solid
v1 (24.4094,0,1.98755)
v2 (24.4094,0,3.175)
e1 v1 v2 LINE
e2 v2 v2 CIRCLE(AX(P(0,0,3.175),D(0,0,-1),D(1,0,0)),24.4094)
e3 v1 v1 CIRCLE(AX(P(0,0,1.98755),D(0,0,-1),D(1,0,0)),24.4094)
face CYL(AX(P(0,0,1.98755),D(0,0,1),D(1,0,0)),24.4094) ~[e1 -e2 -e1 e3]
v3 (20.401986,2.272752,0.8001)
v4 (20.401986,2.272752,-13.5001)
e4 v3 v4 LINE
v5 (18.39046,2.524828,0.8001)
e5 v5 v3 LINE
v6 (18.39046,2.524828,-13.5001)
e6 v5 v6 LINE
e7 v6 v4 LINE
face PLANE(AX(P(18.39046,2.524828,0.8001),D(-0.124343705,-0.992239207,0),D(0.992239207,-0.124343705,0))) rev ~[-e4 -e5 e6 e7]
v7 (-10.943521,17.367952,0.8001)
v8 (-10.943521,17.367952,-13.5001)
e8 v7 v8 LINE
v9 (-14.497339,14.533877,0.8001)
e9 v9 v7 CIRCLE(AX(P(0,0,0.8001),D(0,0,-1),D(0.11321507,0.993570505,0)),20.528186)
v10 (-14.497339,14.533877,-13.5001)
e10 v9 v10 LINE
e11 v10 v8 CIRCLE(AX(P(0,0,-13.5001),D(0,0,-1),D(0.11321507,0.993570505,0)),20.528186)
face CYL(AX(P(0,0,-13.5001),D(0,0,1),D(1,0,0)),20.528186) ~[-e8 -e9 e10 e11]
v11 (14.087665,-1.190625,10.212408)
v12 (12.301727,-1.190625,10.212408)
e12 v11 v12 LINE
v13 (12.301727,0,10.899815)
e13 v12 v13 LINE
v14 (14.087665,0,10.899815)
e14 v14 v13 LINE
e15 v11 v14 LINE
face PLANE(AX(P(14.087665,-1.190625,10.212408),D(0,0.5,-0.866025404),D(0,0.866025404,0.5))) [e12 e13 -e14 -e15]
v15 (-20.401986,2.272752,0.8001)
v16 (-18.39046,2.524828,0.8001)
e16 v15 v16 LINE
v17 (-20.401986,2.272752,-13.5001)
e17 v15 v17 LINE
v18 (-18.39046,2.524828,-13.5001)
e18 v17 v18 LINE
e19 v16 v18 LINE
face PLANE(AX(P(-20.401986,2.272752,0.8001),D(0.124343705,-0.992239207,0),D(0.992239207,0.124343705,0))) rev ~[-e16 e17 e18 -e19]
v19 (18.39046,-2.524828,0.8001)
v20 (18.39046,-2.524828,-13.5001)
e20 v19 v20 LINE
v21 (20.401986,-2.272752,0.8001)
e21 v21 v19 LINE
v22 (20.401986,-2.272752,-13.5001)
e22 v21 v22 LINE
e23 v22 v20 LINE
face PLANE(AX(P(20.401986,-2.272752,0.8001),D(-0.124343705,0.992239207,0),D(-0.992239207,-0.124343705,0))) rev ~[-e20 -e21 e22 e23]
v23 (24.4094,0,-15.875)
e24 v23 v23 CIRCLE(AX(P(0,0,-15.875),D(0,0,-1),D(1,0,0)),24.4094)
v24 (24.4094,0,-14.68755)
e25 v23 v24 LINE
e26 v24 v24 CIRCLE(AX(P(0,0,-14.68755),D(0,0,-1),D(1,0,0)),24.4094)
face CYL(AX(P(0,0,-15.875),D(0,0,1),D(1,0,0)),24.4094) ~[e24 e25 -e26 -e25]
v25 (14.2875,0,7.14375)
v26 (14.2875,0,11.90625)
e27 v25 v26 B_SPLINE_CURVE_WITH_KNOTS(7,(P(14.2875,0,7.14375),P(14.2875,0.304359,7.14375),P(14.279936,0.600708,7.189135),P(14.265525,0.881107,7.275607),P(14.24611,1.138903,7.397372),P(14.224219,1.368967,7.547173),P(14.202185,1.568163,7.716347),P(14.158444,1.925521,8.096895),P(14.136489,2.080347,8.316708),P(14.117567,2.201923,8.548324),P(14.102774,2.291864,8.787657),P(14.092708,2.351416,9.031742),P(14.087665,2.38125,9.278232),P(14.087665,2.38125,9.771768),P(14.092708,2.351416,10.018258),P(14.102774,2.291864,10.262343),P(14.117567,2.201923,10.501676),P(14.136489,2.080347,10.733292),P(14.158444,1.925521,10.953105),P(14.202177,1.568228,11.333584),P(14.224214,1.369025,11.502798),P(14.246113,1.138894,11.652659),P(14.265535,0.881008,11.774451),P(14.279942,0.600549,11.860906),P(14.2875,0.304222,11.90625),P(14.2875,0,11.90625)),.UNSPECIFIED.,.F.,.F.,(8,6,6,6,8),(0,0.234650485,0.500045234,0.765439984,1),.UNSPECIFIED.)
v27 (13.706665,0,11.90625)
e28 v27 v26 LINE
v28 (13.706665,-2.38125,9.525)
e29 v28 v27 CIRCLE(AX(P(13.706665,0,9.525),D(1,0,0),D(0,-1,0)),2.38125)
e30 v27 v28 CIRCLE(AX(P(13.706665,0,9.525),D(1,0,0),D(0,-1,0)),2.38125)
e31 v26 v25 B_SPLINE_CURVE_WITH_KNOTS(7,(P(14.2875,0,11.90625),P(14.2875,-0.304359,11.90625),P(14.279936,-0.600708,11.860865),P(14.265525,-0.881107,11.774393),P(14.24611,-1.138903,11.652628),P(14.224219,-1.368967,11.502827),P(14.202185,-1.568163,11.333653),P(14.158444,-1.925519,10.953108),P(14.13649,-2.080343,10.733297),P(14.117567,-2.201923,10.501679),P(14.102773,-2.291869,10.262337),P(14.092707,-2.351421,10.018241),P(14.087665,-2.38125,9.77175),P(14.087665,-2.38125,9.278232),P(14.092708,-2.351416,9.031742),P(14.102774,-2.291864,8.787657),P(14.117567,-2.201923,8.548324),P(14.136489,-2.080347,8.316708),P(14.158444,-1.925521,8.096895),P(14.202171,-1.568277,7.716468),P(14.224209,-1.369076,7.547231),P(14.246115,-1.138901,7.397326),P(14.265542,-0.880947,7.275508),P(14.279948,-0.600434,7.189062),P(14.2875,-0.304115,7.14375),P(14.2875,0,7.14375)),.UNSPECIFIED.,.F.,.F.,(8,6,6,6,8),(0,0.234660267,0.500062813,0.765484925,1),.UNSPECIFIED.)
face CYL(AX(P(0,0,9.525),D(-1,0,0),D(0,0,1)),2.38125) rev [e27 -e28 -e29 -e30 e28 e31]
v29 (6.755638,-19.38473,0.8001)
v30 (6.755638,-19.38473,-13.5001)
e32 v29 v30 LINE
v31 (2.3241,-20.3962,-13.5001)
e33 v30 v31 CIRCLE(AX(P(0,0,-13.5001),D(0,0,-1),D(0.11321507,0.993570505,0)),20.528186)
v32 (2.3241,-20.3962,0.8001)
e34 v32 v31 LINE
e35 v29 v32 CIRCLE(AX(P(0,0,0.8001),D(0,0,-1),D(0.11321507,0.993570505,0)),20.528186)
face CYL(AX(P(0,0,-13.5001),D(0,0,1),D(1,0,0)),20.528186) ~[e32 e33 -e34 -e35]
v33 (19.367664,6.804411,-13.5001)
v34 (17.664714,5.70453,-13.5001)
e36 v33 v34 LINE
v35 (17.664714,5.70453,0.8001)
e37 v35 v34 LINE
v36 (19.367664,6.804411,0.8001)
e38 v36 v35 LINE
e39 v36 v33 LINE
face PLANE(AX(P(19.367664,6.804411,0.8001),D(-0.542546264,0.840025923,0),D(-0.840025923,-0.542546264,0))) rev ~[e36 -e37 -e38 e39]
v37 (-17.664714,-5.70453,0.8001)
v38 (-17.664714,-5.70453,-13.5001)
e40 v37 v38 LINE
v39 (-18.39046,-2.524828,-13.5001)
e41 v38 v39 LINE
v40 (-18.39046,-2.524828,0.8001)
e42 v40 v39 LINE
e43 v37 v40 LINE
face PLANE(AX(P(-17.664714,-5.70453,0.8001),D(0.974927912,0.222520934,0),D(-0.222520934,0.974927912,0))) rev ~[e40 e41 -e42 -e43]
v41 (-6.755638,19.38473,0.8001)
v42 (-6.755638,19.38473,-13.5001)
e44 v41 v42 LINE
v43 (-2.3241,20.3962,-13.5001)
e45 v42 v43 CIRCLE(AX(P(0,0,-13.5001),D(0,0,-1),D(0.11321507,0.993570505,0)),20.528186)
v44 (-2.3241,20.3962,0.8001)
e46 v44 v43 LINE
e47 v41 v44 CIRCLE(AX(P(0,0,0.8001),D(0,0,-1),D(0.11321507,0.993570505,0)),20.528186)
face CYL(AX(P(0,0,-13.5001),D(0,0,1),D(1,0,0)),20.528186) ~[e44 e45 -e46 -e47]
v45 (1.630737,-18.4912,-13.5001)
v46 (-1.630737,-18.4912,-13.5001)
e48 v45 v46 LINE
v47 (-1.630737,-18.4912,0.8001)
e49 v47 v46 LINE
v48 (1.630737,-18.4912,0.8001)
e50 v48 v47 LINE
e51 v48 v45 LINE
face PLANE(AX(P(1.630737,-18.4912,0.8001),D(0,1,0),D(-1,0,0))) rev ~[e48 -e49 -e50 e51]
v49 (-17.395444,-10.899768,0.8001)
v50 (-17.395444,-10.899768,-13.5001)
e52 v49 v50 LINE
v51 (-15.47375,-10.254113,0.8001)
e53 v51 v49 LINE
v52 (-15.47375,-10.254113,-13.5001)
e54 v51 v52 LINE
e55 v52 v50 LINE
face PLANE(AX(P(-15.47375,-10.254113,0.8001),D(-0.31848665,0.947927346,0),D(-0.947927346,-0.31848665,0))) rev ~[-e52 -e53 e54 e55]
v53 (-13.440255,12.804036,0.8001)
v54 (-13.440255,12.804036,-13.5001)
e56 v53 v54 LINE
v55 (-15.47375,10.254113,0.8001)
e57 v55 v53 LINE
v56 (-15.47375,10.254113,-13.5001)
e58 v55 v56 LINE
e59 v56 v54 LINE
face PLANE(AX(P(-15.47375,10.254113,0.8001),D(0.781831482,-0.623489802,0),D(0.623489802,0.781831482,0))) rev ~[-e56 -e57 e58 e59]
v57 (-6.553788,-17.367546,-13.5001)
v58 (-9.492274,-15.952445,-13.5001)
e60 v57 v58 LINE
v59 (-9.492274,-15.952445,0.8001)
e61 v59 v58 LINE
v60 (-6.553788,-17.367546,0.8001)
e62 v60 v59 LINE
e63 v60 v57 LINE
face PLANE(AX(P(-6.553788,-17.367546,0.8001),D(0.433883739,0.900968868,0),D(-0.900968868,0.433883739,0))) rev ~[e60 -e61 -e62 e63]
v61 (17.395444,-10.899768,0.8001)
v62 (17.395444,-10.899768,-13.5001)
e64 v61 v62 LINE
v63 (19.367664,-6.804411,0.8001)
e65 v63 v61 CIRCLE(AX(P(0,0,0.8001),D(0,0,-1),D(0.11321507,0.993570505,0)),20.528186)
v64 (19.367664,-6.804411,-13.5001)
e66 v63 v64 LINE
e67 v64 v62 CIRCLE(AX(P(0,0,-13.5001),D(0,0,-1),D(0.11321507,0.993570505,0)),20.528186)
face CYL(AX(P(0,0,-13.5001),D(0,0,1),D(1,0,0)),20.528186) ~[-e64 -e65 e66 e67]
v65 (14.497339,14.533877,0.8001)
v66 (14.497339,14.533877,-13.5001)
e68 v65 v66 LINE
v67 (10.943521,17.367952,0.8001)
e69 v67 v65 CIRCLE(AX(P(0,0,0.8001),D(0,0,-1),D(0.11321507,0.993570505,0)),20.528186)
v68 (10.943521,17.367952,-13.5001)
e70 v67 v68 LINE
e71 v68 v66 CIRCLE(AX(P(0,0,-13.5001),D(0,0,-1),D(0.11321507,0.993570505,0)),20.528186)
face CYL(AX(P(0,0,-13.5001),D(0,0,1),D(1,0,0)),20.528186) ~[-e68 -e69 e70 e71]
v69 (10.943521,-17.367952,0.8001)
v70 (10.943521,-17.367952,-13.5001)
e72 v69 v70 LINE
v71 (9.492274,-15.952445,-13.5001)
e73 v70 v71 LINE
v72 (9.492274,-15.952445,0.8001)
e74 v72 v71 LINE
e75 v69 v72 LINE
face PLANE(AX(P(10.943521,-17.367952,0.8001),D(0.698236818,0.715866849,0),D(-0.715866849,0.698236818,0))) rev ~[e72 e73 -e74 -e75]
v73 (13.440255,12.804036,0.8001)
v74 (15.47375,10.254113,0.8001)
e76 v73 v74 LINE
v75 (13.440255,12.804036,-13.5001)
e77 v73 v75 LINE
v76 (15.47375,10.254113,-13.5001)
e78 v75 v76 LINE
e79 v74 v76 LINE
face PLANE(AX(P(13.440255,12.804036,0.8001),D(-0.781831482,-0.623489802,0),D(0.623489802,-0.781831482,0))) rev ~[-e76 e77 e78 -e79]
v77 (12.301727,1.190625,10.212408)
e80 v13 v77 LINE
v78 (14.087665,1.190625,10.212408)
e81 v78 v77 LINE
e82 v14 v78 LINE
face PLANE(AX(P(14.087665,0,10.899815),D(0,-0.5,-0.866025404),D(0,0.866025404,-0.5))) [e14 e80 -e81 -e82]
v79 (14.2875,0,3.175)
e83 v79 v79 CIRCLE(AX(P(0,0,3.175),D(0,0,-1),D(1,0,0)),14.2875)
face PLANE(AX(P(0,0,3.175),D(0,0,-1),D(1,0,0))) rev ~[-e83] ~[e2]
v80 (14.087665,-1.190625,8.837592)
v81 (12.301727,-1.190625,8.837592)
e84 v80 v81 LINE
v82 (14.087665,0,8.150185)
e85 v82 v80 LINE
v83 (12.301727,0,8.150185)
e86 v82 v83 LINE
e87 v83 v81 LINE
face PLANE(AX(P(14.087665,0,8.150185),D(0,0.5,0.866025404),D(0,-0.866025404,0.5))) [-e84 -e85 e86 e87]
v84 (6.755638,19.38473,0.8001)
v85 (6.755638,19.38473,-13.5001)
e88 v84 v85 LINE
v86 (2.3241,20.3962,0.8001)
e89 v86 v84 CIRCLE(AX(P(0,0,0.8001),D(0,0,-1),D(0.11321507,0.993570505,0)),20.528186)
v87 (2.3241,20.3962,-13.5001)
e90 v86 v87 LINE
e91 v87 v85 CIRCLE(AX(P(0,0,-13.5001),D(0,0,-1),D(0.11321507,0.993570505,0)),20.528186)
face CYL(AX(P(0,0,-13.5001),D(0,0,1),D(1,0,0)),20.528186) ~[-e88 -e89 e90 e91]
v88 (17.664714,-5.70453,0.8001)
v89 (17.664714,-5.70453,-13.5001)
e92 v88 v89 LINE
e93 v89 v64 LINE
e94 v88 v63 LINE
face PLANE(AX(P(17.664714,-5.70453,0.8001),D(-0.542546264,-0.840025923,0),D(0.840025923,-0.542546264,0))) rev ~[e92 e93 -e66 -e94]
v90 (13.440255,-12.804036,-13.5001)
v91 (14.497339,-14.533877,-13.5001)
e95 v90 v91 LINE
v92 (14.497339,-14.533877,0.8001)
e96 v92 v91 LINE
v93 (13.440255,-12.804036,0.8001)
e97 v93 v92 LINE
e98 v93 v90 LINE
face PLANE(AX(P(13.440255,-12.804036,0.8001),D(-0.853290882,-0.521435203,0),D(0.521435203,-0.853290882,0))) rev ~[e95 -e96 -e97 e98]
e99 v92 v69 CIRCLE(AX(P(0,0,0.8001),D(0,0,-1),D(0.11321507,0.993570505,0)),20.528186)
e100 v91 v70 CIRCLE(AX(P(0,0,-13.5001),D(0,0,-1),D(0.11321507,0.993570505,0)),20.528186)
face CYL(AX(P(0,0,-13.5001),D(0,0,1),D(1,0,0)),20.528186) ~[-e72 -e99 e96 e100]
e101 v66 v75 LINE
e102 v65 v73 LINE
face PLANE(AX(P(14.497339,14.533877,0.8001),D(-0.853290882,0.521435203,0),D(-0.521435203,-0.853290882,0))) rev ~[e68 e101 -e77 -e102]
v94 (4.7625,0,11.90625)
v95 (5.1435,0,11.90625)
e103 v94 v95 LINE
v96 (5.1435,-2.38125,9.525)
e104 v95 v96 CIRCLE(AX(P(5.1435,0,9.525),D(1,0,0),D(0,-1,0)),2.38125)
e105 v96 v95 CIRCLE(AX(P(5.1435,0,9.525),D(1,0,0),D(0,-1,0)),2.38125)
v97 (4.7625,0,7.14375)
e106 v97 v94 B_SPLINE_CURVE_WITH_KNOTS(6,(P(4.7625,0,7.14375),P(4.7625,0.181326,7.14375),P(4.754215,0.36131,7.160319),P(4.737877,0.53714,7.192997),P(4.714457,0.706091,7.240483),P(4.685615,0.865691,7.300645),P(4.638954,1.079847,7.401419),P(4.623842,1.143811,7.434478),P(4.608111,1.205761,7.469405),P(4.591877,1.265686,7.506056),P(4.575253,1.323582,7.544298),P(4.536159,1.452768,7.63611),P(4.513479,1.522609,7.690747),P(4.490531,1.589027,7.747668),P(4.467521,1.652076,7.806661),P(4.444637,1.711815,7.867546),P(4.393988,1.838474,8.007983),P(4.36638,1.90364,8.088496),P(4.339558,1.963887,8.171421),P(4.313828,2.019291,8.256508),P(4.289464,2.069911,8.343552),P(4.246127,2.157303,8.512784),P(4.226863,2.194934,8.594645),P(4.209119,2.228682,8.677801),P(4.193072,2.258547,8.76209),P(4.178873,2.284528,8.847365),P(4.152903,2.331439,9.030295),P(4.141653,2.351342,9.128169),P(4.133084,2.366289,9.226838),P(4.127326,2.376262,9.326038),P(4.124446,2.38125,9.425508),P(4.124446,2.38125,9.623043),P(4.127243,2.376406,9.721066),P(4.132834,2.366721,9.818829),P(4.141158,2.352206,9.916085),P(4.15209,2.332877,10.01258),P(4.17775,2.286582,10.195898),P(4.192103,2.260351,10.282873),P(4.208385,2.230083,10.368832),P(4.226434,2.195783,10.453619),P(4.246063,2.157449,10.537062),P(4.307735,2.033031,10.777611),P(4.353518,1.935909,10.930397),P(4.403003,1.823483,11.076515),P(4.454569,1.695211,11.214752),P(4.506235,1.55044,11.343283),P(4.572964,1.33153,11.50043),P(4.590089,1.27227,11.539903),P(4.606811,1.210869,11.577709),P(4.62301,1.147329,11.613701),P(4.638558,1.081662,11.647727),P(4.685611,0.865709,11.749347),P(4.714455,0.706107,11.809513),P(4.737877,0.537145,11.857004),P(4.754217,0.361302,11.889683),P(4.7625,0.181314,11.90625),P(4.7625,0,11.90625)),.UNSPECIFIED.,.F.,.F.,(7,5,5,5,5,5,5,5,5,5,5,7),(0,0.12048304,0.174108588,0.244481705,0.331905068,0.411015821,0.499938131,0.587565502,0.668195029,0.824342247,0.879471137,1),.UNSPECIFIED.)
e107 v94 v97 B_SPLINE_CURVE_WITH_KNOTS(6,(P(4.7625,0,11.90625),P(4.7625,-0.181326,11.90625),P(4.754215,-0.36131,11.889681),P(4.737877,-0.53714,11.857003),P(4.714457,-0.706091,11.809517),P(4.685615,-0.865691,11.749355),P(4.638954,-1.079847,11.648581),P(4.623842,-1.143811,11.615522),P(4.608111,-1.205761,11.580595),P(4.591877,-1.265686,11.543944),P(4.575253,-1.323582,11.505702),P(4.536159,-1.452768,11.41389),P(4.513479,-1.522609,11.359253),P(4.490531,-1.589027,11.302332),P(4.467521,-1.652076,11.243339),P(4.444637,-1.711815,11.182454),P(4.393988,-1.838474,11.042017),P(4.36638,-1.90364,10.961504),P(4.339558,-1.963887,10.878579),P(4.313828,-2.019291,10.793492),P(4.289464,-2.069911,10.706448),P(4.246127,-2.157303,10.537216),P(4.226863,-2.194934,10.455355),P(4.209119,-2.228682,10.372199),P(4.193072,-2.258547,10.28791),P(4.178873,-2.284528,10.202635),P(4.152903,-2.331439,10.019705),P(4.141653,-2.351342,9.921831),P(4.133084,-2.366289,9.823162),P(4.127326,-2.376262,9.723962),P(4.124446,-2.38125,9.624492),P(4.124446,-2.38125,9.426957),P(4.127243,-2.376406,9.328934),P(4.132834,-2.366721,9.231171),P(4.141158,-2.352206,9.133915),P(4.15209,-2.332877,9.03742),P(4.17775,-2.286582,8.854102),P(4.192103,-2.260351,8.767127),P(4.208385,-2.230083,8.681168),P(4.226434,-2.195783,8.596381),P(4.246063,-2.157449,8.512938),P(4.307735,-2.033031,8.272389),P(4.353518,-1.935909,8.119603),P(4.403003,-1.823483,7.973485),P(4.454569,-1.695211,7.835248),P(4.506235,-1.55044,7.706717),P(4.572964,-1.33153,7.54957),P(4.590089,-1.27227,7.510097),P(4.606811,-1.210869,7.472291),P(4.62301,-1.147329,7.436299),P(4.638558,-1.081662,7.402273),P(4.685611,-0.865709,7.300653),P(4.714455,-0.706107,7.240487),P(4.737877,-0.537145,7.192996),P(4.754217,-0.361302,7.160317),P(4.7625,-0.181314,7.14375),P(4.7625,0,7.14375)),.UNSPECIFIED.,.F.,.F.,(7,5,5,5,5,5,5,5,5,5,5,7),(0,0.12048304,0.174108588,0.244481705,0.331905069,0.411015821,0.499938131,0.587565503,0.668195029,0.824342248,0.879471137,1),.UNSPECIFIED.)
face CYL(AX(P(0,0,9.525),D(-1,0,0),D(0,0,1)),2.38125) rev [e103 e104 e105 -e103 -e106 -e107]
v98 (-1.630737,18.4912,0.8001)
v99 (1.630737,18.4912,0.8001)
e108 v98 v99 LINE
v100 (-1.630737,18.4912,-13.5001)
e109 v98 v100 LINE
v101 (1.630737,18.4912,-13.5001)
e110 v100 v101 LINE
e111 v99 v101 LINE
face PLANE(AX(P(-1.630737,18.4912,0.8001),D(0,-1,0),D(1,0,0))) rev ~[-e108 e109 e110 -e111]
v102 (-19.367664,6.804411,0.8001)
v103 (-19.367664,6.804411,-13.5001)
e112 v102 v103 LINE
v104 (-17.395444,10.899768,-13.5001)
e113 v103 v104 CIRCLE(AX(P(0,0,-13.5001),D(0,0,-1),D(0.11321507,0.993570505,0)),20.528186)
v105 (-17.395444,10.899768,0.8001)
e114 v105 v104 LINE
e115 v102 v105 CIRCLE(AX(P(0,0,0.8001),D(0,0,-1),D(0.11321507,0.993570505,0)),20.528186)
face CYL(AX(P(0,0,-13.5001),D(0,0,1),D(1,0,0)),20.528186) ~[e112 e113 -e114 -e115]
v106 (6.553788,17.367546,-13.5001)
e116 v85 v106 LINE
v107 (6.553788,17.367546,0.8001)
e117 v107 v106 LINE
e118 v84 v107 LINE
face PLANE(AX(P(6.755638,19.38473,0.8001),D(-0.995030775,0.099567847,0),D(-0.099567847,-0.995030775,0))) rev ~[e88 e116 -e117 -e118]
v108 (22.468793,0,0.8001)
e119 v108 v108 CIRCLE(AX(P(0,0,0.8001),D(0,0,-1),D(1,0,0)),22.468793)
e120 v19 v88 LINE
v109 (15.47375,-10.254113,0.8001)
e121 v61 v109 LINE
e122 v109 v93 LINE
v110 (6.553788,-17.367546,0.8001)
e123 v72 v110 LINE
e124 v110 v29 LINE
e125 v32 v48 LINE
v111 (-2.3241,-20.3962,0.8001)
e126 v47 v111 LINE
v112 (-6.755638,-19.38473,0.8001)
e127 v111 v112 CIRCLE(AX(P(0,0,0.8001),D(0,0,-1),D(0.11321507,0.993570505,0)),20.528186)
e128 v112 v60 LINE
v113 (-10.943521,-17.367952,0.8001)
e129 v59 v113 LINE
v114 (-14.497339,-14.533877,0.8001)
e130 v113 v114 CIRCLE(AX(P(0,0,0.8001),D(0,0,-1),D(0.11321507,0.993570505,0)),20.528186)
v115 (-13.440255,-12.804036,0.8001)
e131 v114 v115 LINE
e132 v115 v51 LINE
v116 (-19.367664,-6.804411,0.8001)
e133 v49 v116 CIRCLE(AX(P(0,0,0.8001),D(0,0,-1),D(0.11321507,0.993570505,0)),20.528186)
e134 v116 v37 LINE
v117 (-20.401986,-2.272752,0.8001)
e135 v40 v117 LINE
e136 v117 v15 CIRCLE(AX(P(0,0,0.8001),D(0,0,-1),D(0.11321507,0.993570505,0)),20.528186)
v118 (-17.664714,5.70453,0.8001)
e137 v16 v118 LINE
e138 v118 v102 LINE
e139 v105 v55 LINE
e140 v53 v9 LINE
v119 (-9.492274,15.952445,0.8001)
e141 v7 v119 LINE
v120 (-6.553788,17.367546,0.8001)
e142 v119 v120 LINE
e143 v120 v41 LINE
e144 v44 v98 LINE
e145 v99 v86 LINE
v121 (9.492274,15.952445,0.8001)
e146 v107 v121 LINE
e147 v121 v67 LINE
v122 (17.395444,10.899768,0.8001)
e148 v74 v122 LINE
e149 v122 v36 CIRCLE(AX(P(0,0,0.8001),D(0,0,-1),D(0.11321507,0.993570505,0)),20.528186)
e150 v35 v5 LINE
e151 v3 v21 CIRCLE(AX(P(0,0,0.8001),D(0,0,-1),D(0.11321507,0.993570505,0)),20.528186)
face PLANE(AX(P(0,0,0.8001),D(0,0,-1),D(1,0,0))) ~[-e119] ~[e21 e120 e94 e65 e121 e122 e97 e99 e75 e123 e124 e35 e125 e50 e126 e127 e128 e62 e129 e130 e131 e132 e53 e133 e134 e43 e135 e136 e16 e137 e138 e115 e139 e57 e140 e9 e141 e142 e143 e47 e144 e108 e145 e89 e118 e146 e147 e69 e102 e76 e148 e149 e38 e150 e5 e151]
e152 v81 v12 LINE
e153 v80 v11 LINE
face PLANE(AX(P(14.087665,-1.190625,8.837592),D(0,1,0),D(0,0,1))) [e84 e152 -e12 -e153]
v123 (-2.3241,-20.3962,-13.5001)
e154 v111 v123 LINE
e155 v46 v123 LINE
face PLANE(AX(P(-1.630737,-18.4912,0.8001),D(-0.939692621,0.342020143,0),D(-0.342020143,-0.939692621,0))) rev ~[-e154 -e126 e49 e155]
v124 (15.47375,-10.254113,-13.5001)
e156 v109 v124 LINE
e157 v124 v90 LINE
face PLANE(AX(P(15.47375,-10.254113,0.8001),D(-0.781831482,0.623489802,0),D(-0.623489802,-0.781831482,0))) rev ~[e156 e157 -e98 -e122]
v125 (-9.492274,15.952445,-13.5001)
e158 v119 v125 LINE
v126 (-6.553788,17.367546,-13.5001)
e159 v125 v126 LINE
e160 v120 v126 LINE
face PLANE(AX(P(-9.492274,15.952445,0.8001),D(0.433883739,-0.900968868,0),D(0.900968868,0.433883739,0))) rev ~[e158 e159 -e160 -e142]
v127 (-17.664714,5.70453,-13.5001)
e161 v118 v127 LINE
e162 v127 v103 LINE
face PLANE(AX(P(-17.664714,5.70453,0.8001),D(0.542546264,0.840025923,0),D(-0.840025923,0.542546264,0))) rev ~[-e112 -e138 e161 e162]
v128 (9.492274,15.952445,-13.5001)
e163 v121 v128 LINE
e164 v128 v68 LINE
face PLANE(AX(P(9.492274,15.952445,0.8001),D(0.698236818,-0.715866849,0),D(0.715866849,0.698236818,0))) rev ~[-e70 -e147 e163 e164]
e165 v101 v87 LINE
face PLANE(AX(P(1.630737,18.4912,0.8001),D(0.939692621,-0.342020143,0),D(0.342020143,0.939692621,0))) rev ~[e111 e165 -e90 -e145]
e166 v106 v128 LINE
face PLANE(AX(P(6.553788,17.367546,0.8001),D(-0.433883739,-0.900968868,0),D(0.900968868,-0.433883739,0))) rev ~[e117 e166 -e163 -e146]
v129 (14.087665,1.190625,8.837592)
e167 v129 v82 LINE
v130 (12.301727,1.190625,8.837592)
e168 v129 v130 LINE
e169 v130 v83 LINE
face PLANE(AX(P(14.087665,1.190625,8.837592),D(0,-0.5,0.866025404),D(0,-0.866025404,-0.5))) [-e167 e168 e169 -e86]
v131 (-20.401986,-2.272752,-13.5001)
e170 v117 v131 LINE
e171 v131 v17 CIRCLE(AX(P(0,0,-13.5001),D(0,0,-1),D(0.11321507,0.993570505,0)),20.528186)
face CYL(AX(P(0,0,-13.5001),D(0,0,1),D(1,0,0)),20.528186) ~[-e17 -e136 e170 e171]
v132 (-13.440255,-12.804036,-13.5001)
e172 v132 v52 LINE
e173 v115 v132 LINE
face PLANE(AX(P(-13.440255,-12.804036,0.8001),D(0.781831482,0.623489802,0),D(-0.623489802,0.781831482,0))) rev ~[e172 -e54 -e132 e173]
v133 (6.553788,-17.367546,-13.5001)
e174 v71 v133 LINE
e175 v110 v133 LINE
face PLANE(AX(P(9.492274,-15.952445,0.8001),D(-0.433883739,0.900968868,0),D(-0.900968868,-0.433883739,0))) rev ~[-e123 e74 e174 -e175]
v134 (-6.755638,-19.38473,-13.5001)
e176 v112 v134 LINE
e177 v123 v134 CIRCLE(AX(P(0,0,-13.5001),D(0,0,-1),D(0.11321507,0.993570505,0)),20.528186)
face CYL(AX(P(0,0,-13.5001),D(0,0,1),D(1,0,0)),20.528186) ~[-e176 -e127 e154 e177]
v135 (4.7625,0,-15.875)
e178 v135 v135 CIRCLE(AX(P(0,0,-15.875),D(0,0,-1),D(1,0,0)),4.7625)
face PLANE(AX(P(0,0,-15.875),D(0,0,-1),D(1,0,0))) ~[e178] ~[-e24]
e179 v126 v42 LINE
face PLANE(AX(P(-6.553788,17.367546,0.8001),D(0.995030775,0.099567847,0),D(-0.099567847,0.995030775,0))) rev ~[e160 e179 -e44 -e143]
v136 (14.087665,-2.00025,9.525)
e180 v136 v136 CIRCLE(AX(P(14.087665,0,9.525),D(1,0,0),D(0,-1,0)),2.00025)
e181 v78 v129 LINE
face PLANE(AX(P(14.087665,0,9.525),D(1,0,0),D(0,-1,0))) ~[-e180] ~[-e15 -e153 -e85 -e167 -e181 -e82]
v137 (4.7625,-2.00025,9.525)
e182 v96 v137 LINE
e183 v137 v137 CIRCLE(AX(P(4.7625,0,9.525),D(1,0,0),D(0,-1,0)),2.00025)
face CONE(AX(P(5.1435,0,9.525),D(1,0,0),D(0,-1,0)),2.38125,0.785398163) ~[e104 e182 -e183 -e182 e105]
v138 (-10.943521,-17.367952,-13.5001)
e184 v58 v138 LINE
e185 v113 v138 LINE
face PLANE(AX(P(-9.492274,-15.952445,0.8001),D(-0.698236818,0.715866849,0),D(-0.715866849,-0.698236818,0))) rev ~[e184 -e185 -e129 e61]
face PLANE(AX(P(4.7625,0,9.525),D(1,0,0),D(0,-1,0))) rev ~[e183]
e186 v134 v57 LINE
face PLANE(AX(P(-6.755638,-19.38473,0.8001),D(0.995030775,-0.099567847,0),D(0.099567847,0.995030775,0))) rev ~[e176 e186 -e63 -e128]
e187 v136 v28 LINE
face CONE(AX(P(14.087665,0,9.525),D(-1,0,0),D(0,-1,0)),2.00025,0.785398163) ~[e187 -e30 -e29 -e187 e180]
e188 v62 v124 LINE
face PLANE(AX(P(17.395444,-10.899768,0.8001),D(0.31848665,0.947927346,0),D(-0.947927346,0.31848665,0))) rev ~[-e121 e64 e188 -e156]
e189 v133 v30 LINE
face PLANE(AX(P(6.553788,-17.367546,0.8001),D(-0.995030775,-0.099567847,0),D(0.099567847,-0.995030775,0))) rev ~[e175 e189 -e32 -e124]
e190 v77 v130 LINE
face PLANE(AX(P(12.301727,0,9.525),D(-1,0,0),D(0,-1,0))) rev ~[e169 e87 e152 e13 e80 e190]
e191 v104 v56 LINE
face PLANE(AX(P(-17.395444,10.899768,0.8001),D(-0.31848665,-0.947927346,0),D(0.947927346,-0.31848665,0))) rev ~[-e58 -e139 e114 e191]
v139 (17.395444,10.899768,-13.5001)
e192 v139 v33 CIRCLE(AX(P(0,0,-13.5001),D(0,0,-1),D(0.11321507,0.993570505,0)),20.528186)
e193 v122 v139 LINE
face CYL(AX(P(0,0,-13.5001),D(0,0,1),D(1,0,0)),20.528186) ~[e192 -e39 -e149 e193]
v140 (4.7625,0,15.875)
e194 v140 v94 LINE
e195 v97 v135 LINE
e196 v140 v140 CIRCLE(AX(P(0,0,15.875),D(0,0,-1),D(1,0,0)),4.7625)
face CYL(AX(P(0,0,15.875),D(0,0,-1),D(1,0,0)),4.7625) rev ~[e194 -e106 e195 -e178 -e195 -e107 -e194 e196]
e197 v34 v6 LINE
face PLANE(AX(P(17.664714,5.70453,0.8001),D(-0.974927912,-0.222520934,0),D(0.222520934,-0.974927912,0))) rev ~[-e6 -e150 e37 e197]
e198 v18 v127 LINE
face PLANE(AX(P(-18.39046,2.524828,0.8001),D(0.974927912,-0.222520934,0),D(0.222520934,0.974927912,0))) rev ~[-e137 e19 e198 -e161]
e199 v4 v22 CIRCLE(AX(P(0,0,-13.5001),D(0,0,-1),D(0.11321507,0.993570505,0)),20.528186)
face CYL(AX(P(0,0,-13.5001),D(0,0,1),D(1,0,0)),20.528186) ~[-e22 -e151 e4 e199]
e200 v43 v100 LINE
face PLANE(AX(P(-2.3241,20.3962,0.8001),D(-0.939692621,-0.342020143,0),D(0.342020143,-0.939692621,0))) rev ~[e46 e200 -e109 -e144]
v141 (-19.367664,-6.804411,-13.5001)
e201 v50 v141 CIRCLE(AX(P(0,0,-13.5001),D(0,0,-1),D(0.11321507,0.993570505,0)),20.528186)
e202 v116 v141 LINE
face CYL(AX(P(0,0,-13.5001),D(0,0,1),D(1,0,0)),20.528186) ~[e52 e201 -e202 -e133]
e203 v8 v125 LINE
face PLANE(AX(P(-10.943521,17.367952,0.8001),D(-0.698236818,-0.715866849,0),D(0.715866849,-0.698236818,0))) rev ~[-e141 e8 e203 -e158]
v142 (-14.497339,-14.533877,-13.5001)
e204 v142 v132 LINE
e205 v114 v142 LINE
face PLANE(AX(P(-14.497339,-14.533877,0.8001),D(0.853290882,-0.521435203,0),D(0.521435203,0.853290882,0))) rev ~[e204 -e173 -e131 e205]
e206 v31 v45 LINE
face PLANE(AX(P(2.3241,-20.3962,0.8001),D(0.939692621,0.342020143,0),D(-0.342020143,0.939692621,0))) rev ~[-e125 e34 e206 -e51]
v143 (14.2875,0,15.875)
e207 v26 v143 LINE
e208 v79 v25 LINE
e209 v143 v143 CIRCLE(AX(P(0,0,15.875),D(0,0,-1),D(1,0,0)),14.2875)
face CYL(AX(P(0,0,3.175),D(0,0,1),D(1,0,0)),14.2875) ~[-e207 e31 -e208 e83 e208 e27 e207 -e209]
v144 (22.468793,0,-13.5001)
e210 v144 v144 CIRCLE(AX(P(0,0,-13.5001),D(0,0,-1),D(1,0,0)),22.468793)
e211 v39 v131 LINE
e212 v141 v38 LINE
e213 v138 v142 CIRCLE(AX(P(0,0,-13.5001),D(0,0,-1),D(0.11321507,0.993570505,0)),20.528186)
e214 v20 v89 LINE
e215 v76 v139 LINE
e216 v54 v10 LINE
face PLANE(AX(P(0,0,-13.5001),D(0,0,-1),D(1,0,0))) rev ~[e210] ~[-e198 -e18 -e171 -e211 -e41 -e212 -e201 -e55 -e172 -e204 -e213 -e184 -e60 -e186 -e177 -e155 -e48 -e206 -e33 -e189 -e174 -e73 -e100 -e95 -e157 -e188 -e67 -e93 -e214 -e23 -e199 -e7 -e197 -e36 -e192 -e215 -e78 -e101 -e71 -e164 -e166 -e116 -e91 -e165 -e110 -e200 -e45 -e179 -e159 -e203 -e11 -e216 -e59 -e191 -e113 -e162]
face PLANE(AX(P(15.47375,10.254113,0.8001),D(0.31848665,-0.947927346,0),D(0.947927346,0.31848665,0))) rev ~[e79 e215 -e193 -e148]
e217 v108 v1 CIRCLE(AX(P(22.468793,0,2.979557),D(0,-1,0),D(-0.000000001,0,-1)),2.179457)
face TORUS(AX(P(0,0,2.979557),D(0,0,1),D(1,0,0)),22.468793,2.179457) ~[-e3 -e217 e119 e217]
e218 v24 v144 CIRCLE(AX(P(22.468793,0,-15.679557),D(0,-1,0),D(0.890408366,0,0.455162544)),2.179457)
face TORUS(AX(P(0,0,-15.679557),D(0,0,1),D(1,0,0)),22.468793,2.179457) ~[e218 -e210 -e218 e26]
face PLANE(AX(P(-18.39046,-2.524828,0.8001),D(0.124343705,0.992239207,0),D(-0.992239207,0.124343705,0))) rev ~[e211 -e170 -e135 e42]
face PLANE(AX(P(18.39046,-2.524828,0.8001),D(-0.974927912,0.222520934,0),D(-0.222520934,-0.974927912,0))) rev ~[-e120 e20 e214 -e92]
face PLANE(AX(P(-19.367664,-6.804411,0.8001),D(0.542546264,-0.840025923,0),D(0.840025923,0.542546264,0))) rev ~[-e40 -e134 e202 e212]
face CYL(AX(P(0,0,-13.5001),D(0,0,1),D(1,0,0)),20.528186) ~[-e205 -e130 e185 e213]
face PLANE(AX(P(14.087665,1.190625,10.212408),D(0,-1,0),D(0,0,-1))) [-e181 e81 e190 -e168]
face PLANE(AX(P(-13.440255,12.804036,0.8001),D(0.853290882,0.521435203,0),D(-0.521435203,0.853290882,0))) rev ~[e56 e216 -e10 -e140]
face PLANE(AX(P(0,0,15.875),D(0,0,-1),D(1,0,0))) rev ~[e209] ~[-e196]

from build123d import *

# Parameters (mm, degrees)
CUT_EXTRUDE1_START = 0.8001
CUT_EXTRUDE1_DEPTH = 14.3002
CIRPATTERN1_COUNT  = 14
SKETCH4_R          = 2.38125
CUT_EXTRUDE2_DEPTH = 38.995437117
CUT_EXTRUDE3_DEPTH = 1.7859375


with BuildPart() as part:
    # Sketch2 → Revolve1 (revolve)
    with BuildSketch(Plane(origin=(0, 0, 0), x_dir=(0, 0, -1), z_dir=(1, 0, 0)), mode=Mode.PRIVATE) as revolve1_sk:
        with BuildLine():
            Line((-15.875, 4.7625), (15.875, 4.7625))
            Line((15.875, 4.7625), (15.875, 24.4094))
            Line((15.875, 24.4094), (14.68755, 24.4094))
            ThreePointArc((14.68755, 24.4094), (13.820515654, 23.606333406), (13.5001, 22.468792937))
            Line((13.5001, 22.468792937), (13.5001, 20.528185873))
            Line((13.5001, 20.528185873), (-0.8001, 20.528185873))
            Line((-0.8001, 20.528185873), (-0.8001, 22.468792937))
            ThreePointArc((-0.8001, 22.468792937), (-1.120515654, 23.606333406), (-1.98755, 24.4094))
            Line((-1.98755, 24.4094), (-3.175, 24.4094))
            Line((-3.175, 24.4094), (-3.175, 14.2875))
            Line((-3.175, 14.2875), (-15.875, 14.2875))
            Line((-15.875, 14.2875), (-15.875, 4.7625))
        make_face()
    revolve(revolve1_sk.sketch.rotate(Axis((0, 0, 15.875), (0, 0, -1)), 90), axis=Axis((0, 0, 15.875), (0, 0, -1)))

    # Sketch3 → Cut-Extrude1 (cut)
    with BuildSketch(Plane.XY.offset(CUT_EXTRUDE1_START)):
        with BuildLine():
            Line((-1.630736704, 18.4912), (1.630736704, 18.4912))
            Line((1.630736704, 18.4912), (2.3241, 20.3962))
            ThreePointArc((2.3241, 20.3962), (0, 20.528185873), (-2.3241, 20.3962))
            Line((-2.3241, 20.3962), (-1.630736704, 18.4912))
        make_face()
    cut_extrude1 = extrude(amount=-CUT_EXTRUDE1_DEPTH, mode=Mode.SUBTRACT)

    # CirPattern1: Cut-Extrude1 ×14 about axis
    cirpattern1_axis = Axis((0, 0, 0), (0, 0, 1))
    for i in range(1, CIRPATTERN1_COUNT):
        add(cut_extrude1.rotate(cirpattern1_axis, i * 360 / CIRPATTERN1_COUNT), mode=Mode.SUBTRACT)

    # Sketch4 → Cut-Extrude2 (cut, through all)
    with BuildSketch(Plane(origin=(0, 0, 0), x_dir=(0, -1, 0), z_dir=(1, 0, 0))):
        with Locations(Location((0, -9.525, 0), (0, 0, 270))):
            Circle(SKETCH4_R)
    extrude(amount=CUT_EXTRUDE2_DEPTH, mode=Mode.SUBTRACT)

    # Sketch5 → Revolve2 (revolve)
    with BuildSketch(Plane.XY.offset(9.525)):
        Polygon((4.7625, -2.00025), (4.7625, 0), (14.087664984, 0), (14.087664984, -2.00025), (13.706664984, -2.38125), (5.1435, -2.38125), align=None)
    revolve(axis=Axis((4.7625, 0, 9.525), (1, 0, 0)))

    # Sketch6 → Cut-Extrude3 (cut)
    with BuildSketch(Plane(origin=(14.087664984, 5.384140679, 0), x_dir=(0, -1, 0), z_dir=(-1, 0, 0))):
        Polygon((5.384140679, 10.899815329), (4.193515679, 10.212407664), (4.193515679, 8.837592336), (5.384140679, 8.150184671), (6.574765679, 8.837592336), (6.574765679, 10.212407664), align=None)
    extrude(amount=CUT_EXTRUDE3_DEPTH, mode=Mode.SUBTRACT)


solid = part.part
